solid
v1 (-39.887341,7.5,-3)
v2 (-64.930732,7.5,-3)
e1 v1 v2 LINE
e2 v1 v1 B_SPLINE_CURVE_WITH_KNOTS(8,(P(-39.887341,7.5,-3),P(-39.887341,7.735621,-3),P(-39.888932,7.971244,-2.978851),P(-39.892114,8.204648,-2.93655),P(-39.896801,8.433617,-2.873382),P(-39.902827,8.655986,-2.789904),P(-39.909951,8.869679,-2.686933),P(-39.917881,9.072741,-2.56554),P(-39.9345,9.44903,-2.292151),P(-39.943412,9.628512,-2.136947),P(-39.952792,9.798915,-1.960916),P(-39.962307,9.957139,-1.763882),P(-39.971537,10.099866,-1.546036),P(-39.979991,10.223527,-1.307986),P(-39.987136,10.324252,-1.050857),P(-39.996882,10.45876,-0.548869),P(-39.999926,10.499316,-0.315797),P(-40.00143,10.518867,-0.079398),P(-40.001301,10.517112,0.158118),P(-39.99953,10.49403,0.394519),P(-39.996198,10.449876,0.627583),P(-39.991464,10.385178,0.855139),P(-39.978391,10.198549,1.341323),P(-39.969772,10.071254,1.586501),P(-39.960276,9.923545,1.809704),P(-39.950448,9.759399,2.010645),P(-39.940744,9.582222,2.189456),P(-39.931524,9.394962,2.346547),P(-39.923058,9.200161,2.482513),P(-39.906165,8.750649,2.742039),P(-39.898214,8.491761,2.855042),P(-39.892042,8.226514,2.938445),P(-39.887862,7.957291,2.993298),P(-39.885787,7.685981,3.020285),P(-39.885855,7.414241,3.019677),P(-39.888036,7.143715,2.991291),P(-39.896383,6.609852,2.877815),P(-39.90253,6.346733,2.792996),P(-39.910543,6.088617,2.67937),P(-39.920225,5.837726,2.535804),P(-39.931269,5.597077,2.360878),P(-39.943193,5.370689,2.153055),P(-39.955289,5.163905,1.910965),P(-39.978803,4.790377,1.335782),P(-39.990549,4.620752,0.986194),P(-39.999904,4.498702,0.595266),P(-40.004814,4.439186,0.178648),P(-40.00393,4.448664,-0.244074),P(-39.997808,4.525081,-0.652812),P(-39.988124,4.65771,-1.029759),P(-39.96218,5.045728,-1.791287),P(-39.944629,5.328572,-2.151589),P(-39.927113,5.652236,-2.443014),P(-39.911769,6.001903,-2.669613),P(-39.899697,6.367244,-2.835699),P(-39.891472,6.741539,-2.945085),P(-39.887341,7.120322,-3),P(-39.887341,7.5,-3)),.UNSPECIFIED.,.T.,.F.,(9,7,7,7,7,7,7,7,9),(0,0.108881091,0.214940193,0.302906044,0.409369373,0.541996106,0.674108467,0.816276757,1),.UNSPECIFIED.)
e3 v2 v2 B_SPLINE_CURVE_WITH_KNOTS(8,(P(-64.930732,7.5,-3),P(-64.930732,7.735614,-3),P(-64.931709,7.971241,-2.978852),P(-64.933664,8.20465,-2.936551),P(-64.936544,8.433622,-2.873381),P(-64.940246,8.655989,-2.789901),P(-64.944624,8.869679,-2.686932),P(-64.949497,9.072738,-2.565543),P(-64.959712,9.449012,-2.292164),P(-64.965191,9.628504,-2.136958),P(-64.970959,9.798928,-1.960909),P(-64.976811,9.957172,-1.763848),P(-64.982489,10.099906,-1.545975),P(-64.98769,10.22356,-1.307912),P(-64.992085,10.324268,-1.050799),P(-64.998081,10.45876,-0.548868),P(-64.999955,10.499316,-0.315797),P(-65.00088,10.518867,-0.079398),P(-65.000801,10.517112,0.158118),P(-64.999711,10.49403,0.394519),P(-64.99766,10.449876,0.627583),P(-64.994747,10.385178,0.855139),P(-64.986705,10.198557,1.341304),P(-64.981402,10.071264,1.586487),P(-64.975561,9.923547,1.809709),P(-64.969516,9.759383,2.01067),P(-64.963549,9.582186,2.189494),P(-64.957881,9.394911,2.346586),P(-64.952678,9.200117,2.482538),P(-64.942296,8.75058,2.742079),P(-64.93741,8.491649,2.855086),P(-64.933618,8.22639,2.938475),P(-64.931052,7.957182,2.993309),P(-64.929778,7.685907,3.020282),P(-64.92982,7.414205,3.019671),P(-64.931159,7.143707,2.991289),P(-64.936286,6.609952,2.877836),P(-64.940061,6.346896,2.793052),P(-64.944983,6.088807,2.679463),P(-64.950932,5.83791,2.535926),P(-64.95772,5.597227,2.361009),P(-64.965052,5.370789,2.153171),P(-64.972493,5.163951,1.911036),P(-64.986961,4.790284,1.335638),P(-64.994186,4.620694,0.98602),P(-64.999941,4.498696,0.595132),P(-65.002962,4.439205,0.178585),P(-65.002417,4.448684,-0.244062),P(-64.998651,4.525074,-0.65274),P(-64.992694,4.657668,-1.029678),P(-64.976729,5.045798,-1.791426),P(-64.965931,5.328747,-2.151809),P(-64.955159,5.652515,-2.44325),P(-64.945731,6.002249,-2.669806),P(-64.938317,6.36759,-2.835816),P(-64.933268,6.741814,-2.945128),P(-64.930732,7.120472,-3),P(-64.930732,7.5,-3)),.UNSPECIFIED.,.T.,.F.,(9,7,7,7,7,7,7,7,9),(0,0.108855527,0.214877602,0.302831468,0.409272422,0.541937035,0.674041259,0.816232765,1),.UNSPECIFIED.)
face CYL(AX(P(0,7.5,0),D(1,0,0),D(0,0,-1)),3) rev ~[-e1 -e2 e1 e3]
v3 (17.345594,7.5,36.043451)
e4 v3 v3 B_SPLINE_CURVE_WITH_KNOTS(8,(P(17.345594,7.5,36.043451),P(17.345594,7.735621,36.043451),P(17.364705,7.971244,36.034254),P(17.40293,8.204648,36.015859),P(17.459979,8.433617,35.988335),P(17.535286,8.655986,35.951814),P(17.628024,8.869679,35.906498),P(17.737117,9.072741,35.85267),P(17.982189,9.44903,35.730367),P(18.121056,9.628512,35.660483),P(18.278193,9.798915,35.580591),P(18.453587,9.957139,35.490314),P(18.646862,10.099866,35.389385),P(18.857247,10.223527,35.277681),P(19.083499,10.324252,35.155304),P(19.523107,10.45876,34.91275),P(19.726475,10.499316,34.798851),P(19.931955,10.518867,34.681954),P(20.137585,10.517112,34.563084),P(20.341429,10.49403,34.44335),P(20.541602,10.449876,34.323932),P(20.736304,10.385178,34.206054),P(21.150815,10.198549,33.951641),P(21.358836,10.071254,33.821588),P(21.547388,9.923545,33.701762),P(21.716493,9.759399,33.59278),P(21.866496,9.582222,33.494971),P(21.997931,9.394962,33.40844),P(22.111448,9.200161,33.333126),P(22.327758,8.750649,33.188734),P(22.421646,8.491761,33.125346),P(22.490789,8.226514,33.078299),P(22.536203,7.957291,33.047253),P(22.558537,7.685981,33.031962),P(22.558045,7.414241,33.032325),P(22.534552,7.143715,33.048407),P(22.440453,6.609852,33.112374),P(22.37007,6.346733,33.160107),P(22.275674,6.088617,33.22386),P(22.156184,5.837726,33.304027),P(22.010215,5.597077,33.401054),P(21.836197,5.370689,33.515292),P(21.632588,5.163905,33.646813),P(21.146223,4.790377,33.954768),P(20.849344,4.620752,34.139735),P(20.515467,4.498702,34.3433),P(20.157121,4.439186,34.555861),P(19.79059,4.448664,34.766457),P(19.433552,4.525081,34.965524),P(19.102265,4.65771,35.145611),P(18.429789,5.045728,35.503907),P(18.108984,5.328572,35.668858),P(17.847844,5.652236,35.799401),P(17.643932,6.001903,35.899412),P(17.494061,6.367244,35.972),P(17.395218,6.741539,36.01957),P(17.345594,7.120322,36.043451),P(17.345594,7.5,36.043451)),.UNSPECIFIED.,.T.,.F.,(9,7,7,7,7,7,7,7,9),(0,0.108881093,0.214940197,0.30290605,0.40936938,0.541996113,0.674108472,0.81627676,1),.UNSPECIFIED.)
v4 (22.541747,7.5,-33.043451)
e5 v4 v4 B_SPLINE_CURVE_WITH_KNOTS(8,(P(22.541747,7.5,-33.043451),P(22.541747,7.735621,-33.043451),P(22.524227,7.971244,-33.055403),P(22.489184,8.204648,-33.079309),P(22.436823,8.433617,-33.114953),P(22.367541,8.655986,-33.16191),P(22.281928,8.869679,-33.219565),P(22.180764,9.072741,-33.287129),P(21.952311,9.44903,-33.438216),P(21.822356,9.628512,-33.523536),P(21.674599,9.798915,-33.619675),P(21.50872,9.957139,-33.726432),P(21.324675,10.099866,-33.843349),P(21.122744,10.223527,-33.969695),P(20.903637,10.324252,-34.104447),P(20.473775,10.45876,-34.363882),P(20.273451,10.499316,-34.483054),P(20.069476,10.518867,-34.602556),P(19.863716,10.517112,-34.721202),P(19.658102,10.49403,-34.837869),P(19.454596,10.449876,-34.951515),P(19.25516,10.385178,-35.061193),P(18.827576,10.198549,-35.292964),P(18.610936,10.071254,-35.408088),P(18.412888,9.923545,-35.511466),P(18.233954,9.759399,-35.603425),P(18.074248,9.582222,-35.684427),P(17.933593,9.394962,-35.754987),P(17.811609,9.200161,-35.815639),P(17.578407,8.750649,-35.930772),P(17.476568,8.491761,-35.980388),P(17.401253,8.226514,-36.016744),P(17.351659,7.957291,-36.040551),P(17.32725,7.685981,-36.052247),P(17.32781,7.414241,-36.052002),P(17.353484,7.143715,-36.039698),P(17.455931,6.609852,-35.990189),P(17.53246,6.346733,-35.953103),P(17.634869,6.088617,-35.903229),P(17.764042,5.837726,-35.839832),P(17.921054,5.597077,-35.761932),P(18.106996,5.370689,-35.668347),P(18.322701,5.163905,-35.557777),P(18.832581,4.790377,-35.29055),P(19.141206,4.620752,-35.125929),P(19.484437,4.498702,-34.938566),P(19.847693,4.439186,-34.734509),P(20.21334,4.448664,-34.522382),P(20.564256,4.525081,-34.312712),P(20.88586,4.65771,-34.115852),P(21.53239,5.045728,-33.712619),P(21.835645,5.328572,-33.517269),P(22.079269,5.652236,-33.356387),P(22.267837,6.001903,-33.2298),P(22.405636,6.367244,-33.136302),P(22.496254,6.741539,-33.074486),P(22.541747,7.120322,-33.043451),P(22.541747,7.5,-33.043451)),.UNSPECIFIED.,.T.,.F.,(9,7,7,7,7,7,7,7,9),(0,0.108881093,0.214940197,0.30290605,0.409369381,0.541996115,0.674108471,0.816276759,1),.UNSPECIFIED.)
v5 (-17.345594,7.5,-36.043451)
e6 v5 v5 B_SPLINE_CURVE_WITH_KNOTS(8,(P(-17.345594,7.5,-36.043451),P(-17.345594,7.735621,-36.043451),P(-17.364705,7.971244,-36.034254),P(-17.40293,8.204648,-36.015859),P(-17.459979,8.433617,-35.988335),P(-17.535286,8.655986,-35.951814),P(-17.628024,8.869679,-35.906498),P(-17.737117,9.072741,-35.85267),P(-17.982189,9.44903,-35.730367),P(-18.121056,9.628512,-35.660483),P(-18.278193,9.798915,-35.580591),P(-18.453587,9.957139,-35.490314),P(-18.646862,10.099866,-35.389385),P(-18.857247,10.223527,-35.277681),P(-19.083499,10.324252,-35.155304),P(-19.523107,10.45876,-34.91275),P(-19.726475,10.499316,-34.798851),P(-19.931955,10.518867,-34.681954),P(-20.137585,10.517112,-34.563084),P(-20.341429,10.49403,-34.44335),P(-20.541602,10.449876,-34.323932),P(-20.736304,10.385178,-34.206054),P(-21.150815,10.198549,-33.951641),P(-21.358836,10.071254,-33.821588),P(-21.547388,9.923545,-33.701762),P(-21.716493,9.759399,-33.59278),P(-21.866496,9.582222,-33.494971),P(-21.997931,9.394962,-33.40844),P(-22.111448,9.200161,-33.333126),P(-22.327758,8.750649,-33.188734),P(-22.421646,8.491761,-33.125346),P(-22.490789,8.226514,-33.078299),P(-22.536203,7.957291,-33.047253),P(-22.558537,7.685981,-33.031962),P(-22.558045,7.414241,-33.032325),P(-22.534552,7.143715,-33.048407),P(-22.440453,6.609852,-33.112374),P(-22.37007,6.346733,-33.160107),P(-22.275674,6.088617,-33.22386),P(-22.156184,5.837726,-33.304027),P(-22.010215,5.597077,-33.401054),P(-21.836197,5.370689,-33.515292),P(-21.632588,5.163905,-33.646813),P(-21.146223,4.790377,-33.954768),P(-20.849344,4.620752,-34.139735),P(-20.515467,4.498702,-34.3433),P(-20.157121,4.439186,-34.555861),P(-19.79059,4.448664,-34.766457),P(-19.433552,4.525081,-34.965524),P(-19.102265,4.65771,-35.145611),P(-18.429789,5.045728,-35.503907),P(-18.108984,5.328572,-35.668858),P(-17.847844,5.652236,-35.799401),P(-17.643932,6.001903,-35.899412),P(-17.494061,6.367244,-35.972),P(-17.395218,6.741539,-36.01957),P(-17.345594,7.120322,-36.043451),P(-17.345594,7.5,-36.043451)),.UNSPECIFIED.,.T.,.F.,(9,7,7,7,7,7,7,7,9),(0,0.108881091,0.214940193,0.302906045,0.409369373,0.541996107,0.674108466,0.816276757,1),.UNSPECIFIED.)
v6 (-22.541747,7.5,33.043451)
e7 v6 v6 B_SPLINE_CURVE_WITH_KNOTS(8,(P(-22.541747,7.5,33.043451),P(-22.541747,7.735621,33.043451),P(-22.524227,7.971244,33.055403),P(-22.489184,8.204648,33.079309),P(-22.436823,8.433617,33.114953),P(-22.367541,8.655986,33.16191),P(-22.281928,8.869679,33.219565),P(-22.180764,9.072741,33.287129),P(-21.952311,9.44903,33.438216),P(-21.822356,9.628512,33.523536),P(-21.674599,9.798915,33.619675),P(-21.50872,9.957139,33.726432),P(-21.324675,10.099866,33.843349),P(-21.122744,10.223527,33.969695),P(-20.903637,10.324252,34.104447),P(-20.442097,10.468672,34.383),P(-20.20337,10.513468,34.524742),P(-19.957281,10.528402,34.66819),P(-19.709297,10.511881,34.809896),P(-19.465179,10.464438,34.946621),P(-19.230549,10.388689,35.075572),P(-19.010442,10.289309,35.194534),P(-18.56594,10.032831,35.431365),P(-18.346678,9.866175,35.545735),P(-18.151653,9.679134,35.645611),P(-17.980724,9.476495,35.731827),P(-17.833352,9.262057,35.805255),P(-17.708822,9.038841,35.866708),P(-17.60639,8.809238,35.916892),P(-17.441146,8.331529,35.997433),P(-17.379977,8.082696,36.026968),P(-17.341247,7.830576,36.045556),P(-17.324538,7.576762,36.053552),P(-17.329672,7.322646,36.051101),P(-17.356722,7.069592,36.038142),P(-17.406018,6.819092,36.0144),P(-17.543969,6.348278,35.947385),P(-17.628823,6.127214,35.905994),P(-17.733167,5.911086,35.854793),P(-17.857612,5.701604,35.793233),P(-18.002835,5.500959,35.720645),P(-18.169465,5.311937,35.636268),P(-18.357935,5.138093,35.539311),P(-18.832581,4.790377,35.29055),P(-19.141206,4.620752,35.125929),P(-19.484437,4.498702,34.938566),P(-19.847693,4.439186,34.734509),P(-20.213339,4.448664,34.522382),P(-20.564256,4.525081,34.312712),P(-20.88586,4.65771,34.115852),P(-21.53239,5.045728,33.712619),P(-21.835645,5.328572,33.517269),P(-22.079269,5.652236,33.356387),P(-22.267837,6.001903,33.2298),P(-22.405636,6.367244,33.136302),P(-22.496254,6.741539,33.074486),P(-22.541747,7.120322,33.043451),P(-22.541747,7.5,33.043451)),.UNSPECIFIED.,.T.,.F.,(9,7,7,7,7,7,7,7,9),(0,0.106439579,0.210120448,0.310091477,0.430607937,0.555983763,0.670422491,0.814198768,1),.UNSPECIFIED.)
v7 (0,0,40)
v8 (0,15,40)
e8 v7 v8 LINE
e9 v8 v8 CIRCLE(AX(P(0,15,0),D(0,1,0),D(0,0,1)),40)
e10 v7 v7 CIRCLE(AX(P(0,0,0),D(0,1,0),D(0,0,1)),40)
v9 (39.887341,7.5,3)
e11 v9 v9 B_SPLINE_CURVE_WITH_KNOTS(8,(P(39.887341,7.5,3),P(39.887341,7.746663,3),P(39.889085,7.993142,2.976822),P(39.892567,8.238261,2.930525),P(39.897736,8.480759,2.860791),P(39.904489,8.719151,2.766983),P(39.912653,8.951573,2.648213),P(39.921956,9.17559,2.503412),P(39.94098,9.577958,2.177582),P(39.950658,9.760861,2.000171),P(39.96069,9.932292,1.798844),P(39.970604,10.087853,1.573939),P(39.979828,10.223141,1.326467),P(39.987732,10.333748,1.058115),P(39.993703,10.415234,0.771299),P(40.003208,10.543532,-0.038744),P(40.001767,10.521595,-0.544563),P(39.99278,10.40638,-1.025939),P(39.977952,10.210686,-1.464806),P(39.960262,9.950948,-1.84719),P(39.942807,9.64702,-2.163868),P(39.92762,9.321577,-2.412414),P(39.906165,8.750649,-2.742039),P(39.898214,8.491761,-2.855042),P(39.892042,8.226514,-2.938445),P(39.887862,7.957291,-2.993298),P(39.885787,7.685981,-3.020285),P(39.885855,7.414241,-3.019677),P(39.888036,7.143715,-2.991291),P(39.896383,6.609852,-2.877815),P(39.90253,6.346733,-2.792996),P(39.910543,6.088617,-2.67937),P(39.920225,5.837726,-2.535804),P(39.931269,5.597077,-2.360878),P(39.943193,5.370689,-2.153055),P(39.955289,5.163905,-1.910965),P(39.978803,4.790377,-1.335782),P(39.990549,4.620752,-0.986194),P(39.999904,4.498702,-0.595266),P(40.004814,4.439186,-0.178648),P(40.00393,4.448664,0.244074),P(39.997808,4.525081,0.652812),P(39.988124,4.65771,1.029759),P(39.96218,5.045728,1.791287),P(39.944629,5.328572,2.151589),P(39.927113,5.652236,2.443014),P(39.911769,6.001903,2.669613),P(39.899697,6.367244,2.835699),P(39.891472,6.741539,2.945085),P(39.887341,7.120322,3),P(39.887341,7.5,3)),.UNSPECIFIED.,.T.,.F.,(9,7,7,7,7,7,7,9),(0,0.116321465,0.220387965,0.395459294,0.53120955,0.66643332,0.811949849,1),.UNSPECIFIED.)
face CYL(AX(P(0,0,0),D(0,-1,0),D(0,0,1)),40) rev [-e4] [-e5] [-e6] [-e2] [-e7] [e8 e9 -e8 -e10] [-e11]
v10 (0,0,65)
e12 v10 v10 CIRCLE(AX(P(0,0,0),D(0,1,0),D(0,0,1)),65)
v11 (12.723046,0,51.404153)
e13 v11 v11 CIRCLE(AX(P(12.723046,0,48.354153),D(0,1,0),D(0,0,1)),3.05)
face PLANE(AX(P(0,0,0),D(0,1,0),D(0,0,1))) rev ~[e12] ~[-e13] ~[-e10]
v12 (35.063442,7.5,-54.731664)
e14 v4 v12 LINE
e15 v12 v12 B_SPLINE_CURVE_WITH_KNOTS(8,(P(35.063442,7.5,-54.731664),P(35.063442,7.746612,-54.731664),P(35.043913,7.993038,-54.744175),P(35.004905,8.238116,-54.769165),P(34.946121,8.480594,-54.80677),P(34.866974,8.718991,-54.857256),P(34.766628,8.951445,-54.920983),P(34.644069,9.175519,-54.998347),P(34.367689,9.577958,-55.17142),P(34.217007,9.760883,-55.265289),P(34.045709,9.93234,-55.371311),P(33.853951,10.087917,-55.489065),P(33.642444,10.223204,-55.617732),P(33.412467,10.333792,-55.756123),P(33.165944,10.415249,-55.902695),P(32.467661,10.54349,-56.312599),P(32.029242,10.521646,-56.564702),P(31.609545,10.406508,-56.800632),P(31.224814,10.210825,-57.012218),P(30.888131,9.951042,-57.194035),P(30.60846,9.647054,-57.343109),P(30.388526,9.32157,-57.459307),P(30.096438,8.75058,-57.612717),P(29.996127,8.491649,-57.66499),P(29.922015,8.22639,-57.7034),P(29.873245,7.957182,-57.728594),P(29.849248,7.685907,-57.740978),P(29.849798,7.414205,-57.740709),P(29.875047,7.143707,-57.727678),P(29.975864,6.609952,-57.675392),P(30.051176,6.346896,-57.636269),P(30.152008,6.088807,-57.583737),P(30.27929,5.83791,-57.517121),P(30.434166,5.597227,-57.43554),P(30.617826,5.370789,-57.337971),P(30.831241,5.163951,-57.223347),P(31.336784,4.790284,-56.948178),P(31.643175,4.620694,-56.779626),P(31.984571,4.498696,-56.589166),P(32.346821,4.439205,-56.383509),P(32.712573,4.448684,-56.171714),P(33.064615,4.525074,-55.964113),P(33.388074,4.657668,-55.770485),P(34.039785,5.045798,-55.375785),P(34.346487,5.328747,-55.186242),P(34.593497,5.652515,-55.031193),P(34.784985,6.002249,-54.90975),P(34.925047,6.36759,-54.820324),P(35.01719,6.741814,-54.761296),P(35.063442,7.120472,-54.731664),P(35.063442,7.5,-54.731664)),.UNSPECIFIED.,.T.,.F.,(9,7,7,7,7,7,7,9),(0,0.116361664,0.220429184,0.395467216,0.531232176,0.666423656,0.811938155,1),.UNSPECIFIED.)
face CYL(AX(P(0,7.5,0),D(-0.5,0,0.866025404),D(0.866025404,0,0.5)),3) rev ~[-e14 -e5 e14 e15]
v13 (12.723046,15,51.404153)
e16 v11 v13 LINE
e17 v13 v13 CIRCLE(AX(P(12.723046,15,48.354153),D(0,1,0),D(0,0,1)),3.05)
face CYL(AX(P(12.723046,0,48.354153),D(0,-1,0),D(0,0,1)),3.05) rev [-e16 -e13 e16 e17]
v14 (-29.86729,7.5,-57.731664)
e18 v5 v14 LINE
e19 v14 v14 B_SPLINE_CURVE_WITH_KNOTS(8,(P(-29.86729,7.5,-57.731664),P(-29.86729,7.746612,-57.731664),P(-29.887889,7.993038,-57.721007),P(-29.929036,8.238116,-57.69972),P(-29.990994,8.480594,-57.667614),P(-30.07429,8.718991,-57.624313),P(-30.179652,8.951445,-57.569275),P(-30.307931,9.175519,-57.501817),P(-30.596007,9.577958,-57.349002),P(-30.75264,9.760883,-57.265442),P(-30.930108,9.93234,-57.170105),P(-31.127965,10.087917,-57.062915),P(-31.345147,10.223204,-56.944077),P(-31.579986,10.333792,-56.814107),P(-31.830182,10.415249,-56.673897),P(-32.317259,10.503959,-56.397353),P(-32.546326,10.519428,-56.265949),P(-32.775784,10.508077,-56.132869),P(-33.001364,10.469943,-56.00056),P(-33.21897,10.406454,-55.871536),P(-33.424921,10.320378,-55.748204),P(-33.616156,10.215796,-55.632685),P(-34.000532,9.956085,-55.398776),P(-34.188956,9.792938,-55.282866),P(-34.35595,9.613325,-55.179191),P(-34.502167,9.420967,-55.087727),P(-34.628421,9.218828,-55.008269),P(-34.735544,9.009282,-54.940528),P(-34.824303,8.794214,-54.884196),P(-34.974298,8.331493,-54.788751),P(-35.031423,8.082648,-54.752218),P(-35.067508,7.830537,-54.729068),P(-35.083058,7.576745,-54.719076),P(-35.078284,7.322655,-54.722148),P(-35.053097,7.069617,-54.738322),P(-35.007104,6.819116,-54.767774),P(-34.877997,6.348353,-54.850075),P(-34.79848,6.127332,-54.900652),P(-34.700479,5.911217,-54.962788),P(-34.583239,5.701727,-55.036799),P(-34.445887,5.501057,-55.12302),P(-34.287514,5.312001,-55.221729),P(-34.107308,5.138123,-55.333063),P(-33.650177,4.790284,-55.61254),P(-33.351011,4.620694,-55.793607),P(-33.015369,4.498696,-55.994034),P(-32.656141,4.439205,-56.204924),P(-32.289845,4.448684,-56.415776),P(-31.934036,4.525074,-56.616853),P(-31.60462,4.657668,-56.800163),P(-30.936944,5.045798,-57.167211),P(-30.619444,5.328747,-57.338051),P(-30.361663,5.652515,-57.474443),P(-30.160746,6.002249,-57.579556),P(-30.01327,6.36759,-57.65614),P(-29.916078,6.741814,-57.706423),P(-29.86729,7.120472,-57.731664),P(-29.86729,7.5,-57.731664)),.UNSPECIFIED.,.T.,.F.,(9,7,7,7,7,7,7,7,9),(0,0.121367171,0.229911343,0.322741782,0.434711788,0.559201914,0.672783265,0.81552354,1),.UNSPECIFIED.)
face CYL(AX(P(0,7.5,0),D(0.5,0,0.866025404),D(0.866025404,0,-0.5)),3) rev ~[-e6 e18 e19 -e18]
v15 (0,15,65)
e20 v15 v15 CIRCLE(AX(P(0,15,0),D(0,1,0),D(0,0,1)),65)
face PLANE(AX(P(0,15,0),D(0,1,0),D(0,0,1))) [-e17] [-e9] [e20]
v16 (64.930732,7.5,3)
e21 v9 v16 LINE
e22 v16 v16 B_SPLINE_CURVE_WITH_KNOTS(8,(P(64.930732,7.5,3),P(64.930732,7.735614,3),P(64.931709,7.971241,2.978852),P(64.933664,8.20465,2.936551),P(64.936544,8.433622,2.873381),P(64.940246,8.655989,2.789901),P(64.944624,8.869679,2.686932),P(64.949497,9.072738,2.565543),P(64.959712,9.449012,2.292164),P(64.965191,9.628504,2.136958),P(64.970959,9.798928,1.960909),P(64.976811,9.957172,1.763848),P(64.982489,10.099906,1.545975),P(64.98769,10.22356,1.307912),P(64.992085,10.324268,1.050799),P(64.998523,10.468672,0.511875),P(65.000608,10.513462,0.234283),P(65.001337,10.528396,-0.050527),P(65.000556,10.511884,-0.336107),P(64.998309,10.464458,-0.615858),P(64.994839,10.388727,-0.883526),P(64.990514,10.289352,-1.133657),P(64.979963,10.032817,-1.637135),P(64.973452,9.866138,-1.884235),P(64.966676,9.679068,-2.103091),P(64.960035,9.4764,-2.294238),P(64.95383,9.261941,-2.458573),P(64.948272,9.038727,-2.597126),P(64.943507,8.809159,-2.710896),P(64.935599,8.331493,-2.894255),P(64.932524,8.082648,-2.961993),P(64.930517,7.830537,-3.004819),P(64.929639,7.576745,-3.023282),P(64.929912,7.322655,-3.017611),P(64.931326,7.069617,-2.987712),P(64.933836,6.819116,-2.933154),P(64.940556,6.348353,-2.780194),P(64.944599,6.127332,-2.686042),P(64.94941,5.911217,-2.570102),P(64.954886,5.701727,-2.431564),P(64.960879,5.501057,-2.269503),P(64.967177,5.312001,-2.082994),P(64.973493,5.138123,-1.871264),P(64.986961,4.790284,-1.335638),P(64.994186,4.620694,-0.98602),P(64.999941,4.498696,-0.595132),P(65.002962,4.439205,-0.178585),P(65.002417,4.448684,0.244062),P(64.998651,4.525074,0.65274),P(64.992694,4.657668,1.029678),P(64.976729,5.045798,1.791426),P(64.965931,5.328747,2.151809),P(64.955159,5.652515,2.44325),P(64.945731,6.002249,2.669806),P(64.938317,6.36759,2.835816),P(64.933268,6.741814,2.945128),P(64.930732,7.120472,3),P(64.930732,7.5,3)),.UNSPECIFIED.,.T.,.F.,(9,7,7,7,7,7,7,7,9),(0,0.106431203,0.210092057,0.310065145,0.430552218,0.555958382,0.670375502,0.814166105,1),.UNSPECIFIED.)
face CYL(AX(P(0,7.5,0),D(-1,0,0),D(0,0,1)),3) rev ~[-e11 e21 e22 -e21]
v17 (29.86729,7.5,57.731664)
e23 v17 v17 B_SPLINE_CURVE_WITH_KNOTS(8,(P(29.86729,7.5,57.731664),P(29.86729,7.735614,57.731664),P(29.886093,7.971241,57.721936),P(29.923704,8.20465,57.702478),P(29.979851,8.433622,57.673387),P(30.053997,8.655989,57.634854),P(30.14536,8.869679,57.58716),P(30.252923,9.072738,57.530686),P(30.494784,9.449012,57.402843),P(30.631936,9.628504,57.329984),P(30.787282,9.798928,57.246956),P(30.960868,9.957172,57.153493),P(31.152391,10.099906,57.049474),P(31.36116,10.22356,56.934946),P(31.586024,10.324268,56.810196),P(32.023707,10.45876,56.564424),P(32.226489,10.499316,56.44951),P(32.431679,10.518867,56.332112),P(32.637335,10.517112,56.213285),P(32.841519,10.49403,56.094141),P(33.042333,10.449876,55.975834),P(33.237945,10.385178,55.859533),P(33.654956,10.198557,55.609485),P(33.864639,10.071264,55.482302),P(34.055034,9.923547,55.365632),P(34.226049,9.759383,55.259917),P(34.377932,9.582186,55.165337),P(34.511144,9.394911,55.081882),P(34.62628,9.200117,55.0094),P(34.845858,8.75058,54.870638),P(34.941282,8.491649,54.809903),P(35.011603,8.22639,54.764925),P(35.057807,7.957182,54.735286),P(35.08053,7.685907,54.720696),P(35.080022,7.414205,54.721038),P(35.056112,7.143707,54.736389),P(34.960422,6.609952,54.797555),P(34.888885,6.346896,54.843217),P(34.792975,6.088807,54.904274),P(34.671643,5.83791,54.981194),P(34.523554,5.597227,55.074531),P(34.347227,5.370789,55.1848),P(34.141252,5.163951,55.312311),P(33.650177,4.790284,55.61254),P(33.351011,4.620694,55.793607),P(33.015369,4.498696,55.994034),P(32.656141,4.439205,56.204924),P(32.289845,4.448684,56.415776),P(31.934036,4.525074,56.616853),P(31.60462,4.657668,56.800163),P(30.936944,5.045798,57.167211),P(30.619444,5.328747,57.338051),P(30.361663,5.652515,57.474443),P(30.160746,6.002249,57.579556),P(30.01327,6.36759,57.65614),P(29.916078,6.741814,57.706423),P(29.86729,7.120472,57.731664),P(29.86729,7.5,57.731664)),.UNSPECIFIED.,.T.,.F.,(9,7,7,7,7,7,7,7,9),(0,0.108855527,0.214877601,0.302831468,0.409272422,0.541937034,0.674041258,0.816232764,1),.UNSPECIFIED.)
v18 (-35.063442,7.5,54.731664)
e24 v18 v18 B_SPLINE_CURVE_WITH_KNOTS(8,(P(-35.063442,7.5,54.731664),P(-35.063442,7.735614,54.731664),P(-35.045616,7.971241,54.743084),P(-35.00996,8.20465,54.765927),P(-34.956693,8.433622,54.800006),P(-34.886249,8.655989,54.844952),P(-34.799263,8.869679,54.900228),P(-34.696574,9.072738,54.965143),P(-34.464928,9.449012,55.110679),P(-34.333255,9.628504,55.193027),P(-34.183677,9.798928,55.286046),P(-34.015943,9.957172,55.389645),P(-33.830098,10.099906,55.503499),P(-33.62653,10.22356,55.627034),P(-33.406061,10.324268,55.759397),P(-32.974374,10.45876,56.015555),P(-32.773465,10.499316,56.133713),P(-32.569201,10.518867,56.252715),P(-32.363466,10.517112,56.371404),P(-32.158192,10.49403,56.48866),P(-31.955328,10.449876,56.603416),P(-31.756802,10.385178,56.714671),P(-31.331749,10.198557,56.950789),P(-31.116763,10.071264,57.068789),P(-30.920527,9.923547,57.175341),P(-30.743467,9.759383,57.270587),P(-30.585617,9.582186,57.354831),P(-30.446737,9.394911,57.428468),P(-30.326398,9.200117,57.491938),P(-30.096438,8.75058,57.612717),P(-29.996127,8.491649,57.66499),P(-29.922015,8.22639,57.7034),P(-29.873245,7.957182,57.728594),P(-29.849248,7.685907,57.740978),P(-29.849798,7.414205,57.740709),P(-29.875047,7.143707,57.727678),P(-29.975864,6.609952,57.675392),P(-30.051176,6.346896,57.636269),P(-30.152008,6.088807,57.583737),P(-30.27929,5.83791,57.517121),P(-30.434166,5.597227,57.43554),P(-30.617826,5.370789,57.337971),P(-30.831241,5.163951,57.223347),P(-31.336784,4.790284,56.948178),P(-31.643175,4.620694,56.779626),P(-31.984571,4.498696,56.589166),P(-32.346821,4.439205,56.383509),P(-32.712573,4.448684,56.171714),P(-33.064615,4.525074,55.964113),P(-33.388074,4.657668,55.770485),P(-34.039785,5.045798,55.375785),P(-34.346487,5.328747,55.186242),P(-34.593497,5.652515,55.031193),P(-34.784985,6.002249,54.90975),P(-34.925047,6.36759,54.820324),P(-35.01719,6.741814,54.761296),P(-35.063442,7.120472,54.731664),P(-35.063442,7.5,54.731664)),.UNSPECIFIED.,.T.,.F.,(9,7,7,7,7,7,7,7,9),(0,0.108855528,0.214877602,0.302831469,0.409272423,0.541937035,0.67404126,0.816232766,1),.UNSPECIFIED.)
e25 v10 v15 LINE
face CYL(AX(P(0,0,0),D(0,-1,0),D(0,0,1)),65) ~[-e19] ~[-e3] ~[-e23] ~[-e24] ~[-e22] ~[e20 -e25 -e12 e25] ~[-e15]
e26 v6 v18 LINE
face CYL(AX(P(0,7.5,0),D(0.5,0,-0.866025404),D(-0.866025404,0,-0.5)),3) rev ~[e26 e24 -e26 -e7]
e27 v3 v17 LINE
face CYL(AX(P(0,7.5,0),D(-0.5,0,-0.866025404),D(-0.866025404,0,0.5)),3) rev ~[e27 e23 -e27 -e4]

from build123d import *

# Parameters (mm, degrees)
SKETCH1_R           = 65
SKETCH1_R_2         = 40
SKETCH1_R_3         = 3.05
BOSS_EXTRUDE1_DEPTH = 15
SKETCH2_R           = 3
CUT_EXTRUDE1_DEPTH  = 94.139680051
CIRPATTERN1_COUNT   = 6


with BuildPart() as part:
    # Sketch1 → Boss-Extrude1 (new body)
    with BuildSketch(Plane(origin=(0, 0, 0), x_dir=(1, 0, 0), z_dir=(0, 1, 0))):
        with Locations(Location((0, 0, 0), (0, 0, 270))):
            Circle(SKETCH1_R)
        with Locations(Location((0, 0, 0), (0, 0, 270))):
            Circle(SKETCH1_R_2, mode=Mode.SUBTRACT)
        with Locations(Location((12.723046489, -48.354152749, 0), (0, 0, 270))):
            Circle(SKETCH1_R_3, mode=Mode.SUBTRACT)
    extrude(amount=BOSS_EXTRUDE1_DEPTH)

    # Sketch2 → Cut-Extrude1 (cut, through all)
    with BuildSketch(Plane(origin=(0, 0, 0), x_dir=(0, 0, -1), z_dir=(1, 0, 0))):
        with Locations((0, 7.5)):
            Circle(SKETCH2_R)
    cut_extrude1 = extrude(amount=-CUT_EXTRUDE1_DEPTH, mode=Mode.SUBTRACT)

    # CirPattern1: Cut-Extrude1 ×6 about axis
    cirpattern1_axis = Axis((0, 15, 0), (0, 1, 0))
    for i in range(1, CIRPATTERN1_COUNT):
        add(cut_extrude1.rotate(cirpattern1_axis, i * 360 / CIRPATTERN1_COUNT), mode=Mode.SUBTRACT)


solid = part.part
